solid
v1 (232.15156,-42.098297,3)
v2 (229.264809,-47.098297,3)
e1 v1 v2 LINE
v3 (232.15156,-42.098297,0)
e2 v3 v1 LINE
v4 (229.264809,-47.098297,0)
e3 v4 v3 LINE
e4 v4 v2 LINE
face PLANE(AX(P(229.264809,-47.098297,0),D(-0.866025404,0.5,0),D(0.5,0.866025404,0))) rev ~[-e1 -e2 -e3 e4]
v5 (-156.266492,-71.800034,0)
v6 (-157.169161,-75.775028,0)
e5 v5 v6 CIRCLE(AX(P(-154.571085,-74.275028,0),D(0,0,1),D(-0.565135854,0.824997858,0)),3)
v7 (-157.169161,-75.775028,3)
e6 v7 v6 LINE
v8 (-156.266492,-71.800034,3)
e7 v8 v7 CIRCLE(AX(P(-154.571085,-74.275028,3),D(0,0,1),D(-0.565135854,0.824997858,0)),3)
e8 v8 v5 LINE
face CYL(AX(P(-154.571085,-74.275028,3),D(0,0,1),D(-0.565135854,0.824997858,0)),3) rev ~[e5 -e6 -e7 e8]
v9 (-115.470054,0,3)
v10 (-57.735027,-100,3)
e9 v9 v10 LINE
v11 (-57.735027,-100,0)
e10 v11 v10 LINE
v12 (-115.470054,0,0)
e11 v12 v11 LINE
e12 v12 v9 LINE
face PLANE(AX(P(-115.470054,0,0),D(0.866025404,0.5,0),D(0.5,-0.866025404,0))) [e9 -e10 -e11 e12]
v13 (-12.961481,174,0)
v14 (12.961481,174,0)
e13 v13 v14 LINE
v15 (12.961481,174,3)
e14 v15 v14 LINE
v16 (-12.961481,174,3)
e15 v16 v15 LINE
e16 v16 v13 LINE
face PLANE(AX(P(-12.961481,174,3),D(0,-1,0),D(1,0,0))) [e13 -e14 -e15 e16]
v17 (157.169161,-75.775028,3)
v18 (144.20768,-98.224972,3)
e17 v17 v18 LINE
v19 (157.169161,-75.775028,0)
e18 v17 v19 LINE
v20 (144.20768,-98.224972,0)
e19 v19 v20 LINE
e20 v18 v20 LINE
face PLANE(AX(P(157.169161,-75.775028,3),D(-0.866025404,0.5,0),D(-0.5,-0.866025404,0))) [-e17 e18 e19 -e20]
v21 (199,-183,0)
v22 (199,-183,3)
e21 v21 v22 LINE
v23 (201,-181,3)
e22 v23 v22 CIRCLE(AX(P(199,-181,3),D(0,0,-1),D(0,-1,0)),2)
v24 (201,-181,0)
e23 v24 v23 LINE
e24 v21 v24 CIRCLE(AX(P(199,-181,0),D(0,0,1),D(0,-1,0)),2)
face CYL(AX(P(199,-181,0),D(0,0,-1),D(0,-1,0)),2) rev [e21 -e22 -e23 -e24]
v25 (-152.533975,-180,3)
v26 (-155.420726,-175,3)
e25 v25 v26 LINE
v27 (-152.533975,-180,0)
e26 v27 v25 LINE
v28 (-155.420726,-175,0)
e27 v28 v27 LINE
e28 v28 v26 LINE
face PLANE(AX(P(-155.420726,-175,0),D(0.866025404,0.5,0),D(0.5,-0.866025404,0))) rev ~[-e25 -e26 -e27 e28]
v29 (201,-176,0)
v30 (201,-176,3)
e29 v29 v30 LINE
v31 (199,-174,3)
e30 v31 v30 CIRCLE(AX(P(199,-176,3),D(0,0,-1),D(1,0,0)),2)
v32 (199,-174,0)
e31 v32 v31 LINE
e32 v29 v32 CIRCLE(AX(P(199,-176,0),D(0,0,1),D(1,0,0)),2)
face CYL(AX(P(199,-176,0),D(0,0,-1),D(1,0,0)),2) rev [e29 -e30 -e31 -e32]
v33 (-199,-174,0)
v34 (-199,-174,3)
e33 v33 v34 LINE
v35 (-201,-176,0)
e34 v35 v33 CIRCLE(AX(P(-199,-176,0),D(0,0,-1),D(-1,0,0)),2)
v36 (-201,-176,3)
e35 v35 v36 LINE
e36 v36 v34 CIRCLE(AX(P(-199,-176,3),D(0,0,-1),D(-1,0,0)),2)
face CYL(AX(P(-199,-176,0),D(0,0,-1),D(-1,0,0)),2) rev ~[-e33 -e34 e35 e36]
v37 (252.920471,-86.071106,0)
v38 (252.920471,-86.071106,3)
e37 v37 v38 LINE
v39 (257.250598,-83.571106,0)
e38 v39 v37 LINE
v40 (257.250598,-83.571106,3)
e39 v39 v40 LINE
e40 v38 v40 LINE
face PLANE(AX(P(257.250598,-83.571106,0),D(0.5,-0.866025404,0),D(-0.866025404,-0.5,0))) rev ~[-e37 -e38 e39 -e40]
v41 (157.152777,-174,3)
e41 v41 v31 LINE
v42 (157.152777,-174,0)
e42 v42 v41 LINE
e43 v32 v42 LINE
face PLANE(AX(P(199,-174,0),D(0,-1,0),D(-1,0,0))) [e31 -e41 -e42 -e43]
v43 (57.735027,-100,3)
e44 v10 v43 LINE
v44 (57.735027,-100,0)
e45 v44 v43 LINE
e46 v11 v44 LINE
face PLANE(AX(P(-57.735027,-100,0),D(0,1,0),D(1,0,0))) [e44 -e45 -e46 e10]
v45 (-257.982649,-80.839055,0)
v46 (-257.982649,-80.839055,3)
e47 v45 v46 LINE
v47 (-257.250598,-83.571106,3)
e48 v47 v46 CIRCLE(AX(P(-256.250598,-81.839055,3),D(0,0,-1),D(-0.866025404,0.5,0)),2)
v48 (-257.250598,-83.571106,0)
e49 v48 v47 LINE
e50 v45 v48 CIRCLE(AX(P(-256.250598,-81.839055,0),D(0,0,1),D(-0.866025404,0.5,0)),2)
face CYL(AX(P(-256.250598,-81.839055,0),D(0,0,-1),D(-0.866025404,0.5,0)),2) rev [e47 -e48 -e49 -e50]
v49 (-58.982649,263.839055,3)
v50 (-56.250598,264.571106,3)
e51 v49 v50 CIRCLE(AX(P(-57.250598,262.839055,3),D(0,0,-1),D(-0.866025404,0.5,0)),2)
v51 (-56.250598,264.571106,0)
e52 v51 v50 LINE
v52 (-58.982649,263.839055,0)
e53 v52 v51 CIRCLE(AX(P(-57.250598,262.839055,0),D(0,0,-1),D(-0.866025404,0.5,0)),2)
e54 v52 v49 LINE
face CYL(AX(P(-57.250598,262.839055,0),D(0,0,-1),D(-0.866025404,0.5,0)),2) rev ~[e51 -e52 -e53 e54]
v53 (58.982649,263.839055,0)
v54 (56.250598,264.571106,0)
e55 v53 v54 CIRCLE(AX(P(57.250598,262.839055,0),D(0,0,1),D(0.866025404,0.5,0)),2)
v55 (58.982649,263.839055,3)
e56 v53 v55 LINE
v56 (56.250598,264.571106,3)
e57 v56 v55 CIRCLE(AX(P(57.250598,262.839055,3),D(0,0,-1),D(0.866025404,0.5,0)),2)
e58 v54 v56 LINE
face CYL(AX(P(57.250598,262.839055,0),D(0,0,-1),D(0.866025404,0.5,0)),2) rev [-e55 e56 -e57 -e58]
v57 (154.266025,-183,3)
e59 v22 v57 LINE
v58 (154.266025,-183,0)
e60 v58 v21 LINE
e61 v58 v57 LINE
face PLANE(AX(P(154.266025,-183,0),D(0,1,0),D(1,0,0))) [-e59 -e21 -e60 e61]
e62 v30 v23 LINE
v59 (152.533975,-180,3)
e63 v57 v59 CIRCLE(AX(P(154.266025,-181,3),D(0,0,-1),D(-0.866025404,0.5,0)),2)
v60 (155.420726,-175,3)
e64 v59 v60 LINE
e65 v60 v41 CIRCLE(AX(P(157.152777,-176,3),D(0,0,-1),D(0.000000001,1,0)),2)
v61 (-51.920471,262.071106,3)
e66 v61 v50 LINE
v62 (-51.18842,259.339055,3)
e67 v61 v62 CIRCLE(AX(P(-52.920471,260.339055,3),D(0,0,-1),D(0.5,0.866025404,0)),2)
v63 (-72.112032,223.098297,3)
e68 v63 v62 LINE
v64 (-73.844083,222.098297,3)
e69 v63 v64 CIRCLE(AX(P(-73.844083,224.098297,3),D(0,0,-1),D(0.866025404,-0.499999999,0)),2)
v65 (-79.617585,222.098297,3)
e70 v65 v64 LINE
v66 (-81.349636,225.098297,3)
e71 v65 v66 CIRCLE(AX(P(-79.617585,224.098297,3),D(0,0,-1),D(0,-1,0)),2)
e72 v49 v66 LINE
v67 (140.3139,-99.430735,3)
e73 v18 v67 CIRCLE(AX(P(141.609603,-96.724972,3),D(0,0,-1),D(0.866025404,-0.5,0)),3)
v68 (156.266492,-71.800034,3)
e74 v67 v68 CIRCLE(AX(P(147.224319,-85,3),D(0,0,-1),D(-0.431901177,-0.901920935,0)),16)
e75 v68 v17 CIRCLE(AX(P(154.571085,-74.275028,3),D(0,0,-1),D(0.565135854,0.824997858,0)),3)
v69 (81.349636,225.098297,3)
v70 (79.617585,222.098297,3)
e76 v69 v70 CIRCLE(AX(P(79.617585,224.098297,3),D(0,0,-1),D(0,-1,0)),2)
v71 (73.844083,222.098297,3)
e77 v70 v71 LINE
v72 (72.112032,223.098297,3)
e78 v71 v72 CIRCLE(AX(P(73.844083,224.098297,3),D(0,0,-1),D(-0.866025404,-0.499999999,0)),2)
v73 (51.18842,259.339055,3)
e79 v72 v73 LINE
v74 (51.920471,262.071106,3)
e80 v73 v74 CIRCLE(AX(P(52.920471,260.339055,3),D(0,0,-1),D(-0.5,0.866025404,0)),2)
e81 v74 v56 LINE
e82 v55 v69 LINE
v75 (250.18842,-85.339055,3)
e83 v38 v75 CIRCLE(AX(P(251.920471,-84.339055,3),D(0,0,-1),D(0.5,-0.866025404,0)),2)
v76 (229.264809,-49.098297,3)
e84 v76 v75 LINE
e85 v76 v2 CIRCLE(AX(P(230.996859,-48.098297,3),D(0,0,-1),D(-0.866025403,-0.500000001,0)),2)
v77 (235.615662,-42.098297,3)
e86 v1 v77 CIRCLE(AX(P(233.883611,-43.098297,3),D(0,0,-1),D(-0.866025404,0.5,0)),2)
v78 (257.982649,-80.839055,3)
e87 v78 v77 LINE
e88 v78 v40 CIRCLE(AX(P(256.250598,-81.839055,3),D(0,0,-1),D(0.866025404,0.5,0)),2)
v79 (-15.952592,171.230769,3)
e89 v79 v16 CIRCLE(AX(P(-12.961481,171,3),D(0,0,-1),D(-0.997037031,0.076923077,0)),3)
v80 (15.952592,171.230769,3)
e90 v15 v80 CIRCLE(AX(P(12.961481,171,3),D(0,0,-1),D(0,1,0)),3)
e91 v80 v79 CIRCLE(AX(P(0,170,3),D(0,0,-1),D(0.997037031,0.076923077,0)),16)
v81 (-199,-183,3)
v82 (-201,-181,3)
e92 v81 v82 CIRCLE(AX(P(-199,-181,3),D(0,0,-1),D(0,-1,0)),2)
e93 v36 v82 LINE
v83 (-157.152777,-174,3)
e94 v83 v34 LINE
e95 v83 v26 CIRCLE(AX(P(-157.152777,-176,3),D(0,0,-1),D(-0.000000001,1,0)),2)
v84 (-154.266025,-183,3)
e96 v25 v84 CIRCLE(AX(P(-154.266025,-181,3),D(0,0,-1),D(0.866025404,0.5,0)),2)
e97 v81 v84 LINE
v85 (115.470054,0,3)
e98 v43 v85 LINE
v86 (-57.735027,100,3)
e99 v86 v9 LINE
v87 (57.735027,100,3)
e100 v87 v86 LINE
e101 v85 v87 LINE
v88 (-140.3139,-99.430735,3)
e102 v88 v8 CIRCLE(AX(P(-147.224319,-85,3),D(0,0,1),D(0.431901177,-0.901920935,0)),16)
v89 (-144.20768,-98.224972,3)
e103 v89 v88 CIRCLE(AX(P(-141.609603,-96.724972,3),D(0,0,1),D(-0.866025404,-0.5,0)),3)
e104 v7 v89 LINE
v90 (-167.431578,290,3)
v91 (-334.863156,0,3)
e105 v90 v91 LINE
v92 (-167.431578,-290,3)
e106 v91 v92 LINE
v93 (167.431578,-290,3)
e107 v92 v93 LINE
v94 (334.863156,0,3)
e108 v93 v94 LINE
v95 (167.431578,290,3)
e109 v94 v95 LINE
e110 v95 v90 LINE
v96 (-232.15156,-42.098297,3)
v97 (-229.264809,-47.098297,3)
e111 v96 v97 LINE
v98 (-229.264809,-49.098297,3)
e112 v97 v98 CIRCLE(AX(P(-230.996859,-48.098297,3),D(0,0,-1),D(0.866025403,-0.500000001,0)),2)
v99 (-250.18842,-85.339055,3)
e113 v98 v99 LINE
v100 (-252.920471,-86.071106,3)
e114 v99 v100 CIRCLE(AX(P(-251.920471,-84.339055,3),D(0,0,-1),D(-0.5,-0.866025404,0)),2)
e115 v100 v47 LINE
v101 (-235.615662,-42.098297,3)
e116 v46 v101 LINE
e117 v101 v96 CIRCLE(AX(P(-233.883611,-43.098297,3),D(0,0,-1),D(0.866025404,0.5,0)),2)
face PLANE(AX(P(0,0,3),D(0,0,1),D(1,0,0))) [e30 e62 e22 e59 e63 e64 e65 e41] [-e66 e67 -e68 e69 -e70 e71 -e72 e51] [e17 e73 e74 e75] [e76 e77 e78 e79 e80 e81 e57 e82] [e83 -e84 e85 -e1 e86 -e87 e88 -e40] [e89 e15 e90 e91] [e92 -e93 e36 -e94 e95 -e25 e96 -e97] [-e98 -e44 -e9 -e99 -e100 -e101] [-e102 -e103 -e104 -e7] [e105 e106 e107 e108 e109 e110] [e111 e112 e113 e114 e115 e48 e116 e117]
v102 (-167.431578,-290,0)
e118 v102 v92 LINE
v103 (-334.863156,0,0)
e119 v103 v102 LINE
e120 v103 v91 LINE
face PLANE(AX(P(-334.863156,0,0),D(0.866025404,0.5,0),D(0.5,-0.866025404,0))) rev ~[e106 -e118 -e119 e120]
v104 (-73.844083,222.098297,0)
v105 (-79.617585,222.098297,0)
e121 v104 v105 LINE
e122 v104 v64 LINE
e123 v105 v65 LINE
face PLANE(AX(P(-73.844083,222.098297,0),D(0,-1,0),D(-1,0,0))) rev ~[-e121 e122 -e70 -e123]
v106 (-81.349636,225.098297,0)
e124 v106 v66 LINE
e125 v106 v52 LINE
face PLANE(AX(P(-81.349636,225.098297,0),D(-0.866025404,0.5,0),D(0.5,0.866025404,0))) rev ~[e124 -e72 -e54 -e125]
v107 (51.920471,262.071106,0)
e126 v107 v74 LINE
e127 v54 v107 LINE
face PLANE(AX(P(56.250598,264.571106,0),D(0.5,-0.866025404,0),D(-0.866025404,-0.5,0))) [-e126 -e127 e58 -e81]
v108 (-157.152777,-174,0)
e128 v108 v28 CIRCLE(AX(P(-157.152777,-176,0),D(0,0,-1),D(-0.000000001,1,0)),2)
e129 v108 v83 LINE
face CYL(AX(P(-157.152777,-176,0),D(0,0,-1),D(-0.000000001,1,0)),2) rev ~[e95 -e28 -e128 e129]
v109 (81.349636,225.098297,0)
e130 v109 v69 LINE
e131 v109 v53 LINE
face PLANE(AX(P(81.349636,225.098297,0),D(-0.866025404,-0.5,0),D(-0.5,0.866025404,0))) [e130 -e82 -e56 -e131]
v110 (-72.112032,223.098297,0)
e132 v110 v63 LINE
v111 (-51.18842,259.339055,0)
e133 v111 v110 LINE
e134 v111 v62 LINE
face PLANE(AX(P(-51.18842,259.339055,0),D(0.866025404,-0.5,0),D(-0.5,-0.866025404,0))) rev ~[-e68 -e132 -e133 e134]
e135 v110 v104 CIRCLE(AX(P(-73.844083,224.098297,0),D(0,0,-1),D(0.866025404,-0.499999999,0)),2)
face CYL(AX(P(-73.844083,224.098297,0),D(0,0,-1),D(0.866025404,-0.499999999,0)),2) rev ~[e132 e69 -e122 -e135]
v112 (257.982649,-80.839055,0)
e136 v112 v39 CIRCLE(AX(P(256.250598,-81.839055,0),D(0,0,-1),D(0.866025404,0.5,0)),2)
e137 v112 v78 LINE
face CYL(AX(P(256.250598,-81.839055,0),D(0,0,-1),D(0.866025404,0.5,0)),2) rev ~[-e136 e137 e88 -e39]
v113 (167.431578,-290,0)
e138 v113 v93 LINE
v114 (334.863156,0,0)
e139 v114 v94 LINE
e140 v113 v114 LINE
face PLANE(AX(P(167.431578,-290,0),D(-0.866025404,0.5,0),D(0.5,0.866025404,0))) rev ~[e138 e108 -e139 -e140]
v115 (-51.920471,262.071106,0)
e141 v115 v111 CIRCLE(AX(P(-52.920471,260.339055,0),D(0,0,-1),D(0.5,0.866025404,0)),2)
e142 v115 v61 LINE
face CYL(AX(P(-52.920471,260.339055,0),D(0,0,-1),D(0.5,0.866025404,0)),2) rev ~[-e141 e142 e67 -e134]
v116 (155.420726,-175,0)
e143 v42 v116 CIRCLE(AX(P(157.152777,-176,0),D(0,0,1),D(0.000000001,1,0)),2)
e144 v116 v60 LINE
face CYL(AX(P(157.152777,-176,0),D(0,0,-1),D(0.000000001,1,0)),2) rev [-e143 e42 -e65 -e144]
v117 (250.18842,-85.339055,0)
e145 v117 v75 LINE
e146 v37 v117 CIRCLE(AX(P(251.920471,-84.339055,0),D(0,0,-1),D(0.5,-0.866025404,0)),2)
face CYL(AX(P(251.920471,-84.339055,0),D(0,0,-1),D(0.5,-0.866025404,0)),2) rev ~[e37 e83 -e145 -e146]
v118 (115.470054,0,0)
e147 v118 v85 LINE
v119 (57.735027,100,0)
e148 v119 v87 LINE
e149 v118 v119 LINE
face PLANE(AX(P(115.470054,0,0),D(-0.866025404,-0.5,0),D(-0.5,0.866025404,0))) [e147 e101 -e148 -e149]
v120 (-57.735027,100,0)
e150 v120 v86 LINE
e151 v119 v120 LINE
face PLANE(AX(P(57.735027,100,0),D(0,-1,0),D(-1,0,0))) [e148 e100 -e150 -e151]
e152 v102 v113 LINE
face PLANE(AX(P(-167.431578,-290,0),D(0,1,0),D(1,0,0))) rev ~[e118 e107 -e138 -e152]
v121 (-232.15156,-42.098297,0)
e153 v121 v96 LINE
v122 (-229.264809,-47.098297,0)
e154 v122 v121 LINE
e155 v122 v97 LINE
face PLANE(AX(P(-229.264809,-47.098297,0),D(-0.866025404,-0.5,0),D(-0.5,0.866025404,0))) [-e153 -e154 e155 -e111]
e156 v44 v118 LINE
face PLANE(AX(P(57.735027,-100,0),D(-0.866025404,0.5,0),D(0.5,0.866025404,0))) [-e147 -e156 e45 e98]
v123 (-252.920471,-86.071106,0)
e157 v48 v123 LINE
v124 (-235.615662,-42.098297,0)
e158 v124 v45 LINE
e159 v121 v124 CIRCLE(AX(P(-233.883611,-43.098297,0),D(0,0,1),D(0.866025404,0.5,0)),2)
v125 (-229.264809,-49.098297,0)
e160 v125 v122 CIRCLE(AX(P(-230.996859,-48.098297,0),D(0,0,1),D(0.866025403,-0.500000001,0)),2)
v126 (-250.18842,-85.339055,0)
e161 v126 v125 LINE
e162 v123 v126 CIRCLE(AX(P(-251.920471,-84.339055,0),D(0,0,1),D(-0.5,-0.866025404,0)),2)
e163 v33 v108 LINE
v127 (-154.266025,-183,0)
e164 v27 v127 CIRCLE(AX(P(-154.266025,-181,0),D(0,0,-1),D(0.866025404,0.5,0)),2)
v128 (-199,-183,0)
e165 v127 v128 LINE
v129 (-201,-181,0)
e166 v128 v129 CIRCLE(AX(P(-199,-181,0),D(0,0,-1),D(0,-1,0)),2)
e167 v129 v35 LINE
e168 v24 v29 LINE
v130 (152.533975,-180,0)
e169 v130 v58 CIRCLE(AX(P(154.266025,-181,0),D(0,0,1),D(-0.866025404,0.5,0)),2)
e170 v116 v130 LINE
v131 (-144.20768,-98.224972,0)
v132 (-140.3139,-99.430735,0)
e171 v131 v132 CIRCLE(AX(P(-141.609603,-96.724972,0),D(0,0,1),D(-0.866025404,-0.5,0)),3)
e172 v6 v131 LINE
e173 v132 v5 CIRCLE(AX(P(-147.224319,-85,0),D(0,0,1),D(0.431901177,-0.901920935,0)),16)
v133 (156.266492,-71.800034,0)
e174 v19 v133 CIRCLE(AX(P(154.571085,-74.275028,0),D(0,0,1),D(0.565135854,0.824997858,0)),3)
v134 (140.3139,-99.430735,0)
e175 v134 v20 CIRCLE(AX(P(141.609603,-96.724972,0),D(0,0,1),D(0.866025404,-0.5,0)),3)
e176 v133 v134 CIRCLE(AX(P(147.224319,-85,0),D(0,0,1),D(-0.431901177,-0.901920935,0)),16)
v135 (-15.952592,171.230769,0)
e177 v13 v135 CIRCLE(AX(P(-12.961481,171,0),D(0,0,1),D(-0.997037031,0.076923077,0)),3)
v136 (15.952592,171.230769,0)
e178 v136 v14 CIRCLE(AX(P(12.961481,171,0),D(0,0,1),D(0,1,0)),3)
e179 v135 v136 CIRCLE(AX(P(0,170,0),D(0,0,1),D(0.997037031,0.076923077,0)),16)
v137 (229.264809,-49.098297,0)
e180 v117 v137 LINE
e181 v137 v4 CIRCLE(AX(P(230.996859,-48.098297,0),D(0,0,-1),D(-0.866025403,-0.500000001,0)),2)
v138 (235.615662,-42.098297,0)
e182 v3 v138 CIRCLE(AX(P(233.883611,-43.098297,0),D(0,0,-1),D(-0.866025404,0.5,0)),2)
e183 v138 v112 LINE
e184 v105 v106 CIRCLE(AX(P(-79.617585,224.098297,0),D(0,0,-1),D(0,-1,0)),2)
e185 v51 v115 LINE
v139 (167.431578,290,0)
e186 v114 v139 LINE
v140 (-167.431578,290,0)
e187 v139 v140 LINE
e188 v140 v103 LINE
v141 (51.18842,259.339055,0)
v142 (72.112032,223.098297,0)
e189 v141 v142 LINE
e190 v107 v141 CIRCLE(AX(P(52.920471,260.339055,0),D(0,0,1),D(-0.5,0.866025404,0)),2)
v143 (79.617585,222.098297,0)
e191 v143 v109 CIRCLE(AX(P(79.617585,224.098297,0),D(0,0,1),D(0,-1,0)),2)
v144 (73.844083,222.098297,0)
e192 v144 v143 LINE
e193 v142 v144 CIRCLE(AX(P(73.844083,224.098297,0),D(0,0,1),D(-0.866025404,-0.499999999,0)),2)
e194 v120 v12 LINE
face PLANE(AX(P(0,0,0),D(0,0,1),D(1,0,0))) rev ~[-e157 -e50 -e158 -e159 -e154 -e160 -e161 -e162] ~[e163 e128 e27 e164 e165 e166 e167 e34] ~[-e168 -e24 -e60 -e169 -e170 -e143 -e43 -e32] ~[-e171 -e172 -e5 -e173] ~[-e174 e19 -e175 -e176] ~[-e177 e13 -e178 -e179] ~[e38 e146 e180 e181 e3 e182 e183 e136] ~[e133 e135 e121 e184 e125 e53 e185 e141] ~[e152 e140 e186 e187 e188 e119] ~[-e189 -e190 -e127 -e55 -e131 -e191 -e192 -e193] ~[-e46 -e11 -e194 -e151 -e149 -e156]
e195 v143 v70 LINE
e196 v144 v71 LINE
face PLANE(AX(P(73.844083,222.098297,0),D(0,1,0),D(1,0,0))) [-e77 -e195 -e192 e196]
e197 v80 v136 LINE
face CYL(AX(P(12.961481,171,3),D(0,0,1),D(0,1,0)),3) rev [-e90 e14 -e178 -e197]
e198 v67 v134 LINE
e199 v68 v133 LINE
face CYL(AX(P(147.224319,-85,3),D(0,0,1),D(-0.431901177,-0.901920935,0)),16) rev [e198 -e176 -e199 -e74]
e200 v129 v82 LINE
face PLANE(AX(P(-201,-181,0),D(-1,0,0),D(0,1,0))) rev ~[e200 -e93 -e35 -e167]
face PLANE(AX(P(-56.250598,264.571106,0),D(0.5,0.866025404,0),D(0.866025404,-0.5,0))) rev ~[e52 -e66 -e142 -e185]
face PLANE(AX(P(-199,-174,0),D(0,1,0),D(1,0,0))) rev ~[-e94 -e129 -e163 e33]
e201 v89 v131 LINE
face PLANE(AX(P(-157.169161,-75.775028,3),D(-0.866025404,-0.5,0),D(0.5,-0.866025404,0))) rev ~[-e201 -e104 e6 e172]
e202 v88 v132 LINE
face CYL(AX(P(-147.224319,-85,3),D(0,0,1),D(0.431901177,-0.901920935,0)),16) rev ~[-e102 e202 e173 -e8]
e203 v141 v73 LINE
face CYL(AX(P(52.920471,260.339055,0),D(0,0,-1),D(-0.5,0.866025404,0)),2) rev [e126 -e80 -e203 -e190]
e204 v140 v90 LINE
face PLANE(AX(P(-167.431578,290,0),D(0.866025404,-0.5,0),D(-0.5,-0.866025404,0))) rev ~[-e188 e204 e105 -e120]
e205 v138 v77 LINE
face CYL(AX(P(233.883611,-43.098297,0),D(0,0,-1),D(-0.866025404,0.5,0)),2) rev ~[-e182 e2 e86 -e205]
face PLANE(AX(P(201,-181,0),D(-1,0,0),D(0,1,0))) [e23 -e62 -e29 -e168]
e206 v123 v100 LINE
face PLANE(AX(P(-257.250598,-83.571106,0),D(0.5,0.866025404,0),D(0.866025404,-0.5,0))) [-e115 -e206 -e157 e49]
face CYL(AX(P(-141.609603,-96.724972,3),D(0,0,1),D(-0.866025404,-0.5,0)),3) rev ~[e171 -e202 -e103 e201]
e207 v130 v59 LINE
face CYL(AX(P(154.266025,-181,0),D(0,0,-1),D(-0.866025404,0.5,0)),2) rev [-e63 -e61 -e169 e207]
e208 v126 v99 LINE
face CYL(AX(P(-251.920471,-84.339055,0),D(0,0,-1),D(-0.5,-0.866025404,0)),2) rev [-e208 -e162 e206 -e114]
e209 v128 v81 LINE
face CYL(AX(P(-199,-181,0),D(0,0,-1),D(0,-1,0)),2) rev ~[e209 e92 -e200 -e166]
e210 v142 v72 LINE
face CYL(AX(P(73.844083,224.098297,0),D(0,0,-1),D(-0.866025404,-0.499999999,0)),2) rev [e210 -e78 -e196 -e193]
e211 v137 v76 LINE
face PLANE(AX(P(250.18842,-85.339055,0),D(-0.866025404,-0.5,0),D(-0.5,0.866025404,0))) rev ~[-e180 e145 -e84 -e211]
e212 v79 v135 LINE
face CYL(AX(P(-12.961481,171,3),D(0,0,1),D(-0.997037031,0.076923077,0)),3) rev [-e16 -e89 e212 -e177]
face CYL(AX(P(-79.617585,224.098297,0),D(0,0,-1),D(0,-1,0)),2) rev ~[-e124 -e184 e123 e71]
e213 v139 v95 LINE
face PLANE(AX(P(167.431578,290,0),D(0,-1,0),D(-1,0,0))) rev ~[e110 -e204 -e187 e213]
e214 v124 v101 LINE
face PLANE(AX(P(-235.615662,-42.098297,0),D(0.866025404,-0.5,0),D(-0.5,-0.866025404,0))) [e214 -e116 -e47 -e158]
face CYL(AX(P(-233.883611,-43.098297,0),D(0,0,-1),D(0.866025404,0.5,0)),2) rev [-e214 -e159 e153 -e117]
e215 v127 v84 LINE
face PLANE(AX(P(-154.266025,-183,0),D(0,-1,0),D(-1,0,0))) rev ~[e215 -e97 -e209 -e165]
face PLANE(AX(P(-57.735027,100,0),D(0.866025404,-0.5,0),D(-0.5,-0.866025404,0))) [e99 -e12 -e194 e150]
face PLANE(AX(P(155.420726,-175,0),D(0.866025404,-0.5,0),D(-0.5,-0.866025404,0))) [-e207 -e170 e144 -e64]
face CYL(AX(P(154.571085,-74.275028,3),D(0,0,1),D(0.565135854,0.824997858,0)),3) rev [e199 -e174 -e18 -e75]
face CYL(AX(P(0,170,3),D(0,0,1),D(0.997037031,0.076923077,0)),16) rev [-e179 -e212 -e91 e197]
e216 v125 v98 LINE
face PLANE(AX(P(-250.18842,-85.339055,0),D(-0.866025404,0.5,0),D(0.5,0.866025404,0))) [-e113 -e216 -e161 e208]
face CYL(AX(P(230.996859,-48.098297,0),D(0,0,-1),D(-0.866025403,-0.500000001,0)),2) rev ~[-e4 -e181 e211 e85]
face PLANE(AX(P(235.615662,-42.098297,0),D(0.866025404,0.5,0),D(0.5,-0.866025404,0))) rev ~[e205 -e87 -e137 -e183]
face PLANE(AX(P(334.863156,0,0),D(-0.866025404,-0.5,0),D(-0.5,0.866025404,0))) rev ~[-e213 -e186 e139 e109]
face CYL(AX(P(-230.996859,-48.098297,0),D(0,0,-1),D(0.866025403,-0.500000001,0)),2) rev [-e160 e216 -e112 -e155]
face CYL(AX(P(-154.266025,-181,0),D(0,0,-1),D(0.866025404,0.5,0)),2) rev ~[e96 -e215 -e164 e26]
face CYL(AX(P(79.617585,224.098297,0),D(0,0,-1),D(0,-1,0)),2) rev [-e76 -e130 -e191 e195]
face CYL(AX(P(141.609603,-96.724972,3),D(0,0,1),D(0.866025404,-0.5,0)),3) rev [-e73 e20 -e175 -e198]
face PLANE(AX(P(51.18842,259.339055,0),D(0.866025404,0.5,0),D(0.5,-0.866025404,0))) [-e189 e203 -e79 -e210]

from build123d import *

# Parameters (mm, degrees)
BOSS_EXTRUDE1_DEPTH = 3
CUT_EXTRUDE1_DEPTH  = 443.992475482
CIRPATTERN1_COUNT   = 3
CUT_EXTRUDE2_DEPTH  = 443.992475482


with BuildPart() as part:
    # Sketch1 → Boss-Extrude1 (new body)
    with BuildSketch(Plane.XY):
        Polygon((334.86315613, 0), (167.431578065, 290), (-167.431578065, 290), (-334.86315613, 0), (-167.431578065, -290), (167.431578065, -290), align=None)
        Polygon((57.735026919, 100), (-57.735026919, 100), (-115.470053838, 0), (-57.735026919, -100), (57.735026919, -100), (115.470053838, 0), align=None, mode=Mode.SUBTRACT)
    extrude(amount=BOSS_EXTRUDE1_DEPTH)

    # Sketch2 → Cut-Extrude1 (cut, through all)
    with BuildSketch(Plane(origin=(0, 0, 0), x_dir=(-1, 0, 0), z_dir=(0, 0, -1))):
        with BuildLine():
            Line((-51.188420258, 259.339055353), (-72.112031884, 223.098296941))
            ThreePointArc((-72.112031884, 223.098296941), (-72.844082691, 222.366246133), (-73.844082691, 222.098296941))
            Line((-73.844082691, 222.098296941), (-79.617585383, 222.098296941))
            ThreePointArc((-79.617585383, 222.098296941), (-81.349636191, 223.098296941), (-81.349636191, 225.098296941))
            Line((-81.349636191, 225.098296941), (-58.982648893, 263.839055353))
            ThreePointArc((-58.982648893, 263.839055353), (-57.768236175, 264.770907006), (-56.250598085, 264.571106161))
            Line((-56.250598085, 264.571106161), (-51.920471066, 262.071106161))
            ThreePointArc((-51.920471066, 262.071106161), (-50.988619413, 260.856693443), (-51.188420258, 259.339055353))
        make_face()
        with BuildLine():
            Line((56.250598085, 264.571106161), (51.920471066, 262.071106161))
            ThreePointArc((51.920471066, 262.071106161), (50.988619413, 260.856693443), (51.188420258, 259.339055353))
            Line((51.188420258, 259.339055353), (72.112031884, 223.098296941))
            ThreePointArc((72.112031884, 223.098296941), (72.844082691, 222.366246133), (73.844082691, 222.098296941))
            Line((73.844082691, 222.098296941), (79.617585383, 222.098296941))
            ThreePointArc((79.617585383, 222.098296941), (81.349636191, 223.098296941), (81.349636191, 225.098296941))
            Line((81.349636191, 225.098296941), (58.982648893, 263.839055353))
            ThreePointArc((58.982648893, 263.839055353), (57.768236175, 264.770907006), (56.250598085, 264.571106161))
        make_face()
    cut_extrude1 = extrude(amount=-CUT_EXTRUDE1_DEPTH, mode=Mode.SUBTRACT)

    # CirPattern1: Cut-Extrude1 ×3 about axis
    cirpattern1_axis = Axis((0, 0, -0.2), (0, 0, 1))
    for i in range(1, CIRPATTERN1_COUNT):
        add(cut_extrude1.rotate(cirpattern1_axis, i * 360 / CIRPATTERN1_COUNT), mode=Mode.SUBTRACT)

    # Sketch3 → Cut-Extrude2 (cut, through all)
    with BuildSketch(Plane.XY.offset(3)):
        with BuildLine():
            Line((-12.961481397, 174), (12.961481397, 174))
            ThreePointArc((12.961481397, 174), (14.999580058, 173.201398157), (15.952592488, 171.230769231))
            ThreePointArc((15.952592488, 171.230769231), (0, 154), (-15.952592488, 171.230769231))
            ThreePointArc((-15.952592488, 171.230769231), (-14.999580058, 173.201398157), (-12.961481397, 174))
        make_face()
        with BuildLine():
            Line((-157.169160957, -75.77502784), (-144.20767956, -98.22497216))
            ThreePointArc((-144.20767956, -98.22497216), (-142.497020746, -99.590716455), (-140.313899819, -99.430734967))
            ThreePointArc((-140.313899819, -99.430734967), (-133.367912183, -77), (-156.266492308, -71.800034264))
            ThreePointArc((-156.266492308, -71.800034264), (-157.496600804, -73.610681702), (-157.169160957, -75.77502784))
        make_face()
        with BuildLine():
            Line((157.169160957, -75.77502784), (144.20767956, -98.22497216))
            ThreePointArc((144.20767956, -98.22497216), (142.497020746, -99.590716455), (140.313899819, -99.430734967))
            ThreePointArc((140.313899819, -99.430734967), (133.367912183, -77), (156.266492308, -71.800034264))
            ThreePointArc((156.266492308, -71.800034264), (157.496600804, -73.610681702), (157.169160957, -75.77502784))
        make_face()
    extrude(amount=-CUT_EXTRUDE2_DEPTH, mode=Mode.SUBTRACT)


solid = part.part
